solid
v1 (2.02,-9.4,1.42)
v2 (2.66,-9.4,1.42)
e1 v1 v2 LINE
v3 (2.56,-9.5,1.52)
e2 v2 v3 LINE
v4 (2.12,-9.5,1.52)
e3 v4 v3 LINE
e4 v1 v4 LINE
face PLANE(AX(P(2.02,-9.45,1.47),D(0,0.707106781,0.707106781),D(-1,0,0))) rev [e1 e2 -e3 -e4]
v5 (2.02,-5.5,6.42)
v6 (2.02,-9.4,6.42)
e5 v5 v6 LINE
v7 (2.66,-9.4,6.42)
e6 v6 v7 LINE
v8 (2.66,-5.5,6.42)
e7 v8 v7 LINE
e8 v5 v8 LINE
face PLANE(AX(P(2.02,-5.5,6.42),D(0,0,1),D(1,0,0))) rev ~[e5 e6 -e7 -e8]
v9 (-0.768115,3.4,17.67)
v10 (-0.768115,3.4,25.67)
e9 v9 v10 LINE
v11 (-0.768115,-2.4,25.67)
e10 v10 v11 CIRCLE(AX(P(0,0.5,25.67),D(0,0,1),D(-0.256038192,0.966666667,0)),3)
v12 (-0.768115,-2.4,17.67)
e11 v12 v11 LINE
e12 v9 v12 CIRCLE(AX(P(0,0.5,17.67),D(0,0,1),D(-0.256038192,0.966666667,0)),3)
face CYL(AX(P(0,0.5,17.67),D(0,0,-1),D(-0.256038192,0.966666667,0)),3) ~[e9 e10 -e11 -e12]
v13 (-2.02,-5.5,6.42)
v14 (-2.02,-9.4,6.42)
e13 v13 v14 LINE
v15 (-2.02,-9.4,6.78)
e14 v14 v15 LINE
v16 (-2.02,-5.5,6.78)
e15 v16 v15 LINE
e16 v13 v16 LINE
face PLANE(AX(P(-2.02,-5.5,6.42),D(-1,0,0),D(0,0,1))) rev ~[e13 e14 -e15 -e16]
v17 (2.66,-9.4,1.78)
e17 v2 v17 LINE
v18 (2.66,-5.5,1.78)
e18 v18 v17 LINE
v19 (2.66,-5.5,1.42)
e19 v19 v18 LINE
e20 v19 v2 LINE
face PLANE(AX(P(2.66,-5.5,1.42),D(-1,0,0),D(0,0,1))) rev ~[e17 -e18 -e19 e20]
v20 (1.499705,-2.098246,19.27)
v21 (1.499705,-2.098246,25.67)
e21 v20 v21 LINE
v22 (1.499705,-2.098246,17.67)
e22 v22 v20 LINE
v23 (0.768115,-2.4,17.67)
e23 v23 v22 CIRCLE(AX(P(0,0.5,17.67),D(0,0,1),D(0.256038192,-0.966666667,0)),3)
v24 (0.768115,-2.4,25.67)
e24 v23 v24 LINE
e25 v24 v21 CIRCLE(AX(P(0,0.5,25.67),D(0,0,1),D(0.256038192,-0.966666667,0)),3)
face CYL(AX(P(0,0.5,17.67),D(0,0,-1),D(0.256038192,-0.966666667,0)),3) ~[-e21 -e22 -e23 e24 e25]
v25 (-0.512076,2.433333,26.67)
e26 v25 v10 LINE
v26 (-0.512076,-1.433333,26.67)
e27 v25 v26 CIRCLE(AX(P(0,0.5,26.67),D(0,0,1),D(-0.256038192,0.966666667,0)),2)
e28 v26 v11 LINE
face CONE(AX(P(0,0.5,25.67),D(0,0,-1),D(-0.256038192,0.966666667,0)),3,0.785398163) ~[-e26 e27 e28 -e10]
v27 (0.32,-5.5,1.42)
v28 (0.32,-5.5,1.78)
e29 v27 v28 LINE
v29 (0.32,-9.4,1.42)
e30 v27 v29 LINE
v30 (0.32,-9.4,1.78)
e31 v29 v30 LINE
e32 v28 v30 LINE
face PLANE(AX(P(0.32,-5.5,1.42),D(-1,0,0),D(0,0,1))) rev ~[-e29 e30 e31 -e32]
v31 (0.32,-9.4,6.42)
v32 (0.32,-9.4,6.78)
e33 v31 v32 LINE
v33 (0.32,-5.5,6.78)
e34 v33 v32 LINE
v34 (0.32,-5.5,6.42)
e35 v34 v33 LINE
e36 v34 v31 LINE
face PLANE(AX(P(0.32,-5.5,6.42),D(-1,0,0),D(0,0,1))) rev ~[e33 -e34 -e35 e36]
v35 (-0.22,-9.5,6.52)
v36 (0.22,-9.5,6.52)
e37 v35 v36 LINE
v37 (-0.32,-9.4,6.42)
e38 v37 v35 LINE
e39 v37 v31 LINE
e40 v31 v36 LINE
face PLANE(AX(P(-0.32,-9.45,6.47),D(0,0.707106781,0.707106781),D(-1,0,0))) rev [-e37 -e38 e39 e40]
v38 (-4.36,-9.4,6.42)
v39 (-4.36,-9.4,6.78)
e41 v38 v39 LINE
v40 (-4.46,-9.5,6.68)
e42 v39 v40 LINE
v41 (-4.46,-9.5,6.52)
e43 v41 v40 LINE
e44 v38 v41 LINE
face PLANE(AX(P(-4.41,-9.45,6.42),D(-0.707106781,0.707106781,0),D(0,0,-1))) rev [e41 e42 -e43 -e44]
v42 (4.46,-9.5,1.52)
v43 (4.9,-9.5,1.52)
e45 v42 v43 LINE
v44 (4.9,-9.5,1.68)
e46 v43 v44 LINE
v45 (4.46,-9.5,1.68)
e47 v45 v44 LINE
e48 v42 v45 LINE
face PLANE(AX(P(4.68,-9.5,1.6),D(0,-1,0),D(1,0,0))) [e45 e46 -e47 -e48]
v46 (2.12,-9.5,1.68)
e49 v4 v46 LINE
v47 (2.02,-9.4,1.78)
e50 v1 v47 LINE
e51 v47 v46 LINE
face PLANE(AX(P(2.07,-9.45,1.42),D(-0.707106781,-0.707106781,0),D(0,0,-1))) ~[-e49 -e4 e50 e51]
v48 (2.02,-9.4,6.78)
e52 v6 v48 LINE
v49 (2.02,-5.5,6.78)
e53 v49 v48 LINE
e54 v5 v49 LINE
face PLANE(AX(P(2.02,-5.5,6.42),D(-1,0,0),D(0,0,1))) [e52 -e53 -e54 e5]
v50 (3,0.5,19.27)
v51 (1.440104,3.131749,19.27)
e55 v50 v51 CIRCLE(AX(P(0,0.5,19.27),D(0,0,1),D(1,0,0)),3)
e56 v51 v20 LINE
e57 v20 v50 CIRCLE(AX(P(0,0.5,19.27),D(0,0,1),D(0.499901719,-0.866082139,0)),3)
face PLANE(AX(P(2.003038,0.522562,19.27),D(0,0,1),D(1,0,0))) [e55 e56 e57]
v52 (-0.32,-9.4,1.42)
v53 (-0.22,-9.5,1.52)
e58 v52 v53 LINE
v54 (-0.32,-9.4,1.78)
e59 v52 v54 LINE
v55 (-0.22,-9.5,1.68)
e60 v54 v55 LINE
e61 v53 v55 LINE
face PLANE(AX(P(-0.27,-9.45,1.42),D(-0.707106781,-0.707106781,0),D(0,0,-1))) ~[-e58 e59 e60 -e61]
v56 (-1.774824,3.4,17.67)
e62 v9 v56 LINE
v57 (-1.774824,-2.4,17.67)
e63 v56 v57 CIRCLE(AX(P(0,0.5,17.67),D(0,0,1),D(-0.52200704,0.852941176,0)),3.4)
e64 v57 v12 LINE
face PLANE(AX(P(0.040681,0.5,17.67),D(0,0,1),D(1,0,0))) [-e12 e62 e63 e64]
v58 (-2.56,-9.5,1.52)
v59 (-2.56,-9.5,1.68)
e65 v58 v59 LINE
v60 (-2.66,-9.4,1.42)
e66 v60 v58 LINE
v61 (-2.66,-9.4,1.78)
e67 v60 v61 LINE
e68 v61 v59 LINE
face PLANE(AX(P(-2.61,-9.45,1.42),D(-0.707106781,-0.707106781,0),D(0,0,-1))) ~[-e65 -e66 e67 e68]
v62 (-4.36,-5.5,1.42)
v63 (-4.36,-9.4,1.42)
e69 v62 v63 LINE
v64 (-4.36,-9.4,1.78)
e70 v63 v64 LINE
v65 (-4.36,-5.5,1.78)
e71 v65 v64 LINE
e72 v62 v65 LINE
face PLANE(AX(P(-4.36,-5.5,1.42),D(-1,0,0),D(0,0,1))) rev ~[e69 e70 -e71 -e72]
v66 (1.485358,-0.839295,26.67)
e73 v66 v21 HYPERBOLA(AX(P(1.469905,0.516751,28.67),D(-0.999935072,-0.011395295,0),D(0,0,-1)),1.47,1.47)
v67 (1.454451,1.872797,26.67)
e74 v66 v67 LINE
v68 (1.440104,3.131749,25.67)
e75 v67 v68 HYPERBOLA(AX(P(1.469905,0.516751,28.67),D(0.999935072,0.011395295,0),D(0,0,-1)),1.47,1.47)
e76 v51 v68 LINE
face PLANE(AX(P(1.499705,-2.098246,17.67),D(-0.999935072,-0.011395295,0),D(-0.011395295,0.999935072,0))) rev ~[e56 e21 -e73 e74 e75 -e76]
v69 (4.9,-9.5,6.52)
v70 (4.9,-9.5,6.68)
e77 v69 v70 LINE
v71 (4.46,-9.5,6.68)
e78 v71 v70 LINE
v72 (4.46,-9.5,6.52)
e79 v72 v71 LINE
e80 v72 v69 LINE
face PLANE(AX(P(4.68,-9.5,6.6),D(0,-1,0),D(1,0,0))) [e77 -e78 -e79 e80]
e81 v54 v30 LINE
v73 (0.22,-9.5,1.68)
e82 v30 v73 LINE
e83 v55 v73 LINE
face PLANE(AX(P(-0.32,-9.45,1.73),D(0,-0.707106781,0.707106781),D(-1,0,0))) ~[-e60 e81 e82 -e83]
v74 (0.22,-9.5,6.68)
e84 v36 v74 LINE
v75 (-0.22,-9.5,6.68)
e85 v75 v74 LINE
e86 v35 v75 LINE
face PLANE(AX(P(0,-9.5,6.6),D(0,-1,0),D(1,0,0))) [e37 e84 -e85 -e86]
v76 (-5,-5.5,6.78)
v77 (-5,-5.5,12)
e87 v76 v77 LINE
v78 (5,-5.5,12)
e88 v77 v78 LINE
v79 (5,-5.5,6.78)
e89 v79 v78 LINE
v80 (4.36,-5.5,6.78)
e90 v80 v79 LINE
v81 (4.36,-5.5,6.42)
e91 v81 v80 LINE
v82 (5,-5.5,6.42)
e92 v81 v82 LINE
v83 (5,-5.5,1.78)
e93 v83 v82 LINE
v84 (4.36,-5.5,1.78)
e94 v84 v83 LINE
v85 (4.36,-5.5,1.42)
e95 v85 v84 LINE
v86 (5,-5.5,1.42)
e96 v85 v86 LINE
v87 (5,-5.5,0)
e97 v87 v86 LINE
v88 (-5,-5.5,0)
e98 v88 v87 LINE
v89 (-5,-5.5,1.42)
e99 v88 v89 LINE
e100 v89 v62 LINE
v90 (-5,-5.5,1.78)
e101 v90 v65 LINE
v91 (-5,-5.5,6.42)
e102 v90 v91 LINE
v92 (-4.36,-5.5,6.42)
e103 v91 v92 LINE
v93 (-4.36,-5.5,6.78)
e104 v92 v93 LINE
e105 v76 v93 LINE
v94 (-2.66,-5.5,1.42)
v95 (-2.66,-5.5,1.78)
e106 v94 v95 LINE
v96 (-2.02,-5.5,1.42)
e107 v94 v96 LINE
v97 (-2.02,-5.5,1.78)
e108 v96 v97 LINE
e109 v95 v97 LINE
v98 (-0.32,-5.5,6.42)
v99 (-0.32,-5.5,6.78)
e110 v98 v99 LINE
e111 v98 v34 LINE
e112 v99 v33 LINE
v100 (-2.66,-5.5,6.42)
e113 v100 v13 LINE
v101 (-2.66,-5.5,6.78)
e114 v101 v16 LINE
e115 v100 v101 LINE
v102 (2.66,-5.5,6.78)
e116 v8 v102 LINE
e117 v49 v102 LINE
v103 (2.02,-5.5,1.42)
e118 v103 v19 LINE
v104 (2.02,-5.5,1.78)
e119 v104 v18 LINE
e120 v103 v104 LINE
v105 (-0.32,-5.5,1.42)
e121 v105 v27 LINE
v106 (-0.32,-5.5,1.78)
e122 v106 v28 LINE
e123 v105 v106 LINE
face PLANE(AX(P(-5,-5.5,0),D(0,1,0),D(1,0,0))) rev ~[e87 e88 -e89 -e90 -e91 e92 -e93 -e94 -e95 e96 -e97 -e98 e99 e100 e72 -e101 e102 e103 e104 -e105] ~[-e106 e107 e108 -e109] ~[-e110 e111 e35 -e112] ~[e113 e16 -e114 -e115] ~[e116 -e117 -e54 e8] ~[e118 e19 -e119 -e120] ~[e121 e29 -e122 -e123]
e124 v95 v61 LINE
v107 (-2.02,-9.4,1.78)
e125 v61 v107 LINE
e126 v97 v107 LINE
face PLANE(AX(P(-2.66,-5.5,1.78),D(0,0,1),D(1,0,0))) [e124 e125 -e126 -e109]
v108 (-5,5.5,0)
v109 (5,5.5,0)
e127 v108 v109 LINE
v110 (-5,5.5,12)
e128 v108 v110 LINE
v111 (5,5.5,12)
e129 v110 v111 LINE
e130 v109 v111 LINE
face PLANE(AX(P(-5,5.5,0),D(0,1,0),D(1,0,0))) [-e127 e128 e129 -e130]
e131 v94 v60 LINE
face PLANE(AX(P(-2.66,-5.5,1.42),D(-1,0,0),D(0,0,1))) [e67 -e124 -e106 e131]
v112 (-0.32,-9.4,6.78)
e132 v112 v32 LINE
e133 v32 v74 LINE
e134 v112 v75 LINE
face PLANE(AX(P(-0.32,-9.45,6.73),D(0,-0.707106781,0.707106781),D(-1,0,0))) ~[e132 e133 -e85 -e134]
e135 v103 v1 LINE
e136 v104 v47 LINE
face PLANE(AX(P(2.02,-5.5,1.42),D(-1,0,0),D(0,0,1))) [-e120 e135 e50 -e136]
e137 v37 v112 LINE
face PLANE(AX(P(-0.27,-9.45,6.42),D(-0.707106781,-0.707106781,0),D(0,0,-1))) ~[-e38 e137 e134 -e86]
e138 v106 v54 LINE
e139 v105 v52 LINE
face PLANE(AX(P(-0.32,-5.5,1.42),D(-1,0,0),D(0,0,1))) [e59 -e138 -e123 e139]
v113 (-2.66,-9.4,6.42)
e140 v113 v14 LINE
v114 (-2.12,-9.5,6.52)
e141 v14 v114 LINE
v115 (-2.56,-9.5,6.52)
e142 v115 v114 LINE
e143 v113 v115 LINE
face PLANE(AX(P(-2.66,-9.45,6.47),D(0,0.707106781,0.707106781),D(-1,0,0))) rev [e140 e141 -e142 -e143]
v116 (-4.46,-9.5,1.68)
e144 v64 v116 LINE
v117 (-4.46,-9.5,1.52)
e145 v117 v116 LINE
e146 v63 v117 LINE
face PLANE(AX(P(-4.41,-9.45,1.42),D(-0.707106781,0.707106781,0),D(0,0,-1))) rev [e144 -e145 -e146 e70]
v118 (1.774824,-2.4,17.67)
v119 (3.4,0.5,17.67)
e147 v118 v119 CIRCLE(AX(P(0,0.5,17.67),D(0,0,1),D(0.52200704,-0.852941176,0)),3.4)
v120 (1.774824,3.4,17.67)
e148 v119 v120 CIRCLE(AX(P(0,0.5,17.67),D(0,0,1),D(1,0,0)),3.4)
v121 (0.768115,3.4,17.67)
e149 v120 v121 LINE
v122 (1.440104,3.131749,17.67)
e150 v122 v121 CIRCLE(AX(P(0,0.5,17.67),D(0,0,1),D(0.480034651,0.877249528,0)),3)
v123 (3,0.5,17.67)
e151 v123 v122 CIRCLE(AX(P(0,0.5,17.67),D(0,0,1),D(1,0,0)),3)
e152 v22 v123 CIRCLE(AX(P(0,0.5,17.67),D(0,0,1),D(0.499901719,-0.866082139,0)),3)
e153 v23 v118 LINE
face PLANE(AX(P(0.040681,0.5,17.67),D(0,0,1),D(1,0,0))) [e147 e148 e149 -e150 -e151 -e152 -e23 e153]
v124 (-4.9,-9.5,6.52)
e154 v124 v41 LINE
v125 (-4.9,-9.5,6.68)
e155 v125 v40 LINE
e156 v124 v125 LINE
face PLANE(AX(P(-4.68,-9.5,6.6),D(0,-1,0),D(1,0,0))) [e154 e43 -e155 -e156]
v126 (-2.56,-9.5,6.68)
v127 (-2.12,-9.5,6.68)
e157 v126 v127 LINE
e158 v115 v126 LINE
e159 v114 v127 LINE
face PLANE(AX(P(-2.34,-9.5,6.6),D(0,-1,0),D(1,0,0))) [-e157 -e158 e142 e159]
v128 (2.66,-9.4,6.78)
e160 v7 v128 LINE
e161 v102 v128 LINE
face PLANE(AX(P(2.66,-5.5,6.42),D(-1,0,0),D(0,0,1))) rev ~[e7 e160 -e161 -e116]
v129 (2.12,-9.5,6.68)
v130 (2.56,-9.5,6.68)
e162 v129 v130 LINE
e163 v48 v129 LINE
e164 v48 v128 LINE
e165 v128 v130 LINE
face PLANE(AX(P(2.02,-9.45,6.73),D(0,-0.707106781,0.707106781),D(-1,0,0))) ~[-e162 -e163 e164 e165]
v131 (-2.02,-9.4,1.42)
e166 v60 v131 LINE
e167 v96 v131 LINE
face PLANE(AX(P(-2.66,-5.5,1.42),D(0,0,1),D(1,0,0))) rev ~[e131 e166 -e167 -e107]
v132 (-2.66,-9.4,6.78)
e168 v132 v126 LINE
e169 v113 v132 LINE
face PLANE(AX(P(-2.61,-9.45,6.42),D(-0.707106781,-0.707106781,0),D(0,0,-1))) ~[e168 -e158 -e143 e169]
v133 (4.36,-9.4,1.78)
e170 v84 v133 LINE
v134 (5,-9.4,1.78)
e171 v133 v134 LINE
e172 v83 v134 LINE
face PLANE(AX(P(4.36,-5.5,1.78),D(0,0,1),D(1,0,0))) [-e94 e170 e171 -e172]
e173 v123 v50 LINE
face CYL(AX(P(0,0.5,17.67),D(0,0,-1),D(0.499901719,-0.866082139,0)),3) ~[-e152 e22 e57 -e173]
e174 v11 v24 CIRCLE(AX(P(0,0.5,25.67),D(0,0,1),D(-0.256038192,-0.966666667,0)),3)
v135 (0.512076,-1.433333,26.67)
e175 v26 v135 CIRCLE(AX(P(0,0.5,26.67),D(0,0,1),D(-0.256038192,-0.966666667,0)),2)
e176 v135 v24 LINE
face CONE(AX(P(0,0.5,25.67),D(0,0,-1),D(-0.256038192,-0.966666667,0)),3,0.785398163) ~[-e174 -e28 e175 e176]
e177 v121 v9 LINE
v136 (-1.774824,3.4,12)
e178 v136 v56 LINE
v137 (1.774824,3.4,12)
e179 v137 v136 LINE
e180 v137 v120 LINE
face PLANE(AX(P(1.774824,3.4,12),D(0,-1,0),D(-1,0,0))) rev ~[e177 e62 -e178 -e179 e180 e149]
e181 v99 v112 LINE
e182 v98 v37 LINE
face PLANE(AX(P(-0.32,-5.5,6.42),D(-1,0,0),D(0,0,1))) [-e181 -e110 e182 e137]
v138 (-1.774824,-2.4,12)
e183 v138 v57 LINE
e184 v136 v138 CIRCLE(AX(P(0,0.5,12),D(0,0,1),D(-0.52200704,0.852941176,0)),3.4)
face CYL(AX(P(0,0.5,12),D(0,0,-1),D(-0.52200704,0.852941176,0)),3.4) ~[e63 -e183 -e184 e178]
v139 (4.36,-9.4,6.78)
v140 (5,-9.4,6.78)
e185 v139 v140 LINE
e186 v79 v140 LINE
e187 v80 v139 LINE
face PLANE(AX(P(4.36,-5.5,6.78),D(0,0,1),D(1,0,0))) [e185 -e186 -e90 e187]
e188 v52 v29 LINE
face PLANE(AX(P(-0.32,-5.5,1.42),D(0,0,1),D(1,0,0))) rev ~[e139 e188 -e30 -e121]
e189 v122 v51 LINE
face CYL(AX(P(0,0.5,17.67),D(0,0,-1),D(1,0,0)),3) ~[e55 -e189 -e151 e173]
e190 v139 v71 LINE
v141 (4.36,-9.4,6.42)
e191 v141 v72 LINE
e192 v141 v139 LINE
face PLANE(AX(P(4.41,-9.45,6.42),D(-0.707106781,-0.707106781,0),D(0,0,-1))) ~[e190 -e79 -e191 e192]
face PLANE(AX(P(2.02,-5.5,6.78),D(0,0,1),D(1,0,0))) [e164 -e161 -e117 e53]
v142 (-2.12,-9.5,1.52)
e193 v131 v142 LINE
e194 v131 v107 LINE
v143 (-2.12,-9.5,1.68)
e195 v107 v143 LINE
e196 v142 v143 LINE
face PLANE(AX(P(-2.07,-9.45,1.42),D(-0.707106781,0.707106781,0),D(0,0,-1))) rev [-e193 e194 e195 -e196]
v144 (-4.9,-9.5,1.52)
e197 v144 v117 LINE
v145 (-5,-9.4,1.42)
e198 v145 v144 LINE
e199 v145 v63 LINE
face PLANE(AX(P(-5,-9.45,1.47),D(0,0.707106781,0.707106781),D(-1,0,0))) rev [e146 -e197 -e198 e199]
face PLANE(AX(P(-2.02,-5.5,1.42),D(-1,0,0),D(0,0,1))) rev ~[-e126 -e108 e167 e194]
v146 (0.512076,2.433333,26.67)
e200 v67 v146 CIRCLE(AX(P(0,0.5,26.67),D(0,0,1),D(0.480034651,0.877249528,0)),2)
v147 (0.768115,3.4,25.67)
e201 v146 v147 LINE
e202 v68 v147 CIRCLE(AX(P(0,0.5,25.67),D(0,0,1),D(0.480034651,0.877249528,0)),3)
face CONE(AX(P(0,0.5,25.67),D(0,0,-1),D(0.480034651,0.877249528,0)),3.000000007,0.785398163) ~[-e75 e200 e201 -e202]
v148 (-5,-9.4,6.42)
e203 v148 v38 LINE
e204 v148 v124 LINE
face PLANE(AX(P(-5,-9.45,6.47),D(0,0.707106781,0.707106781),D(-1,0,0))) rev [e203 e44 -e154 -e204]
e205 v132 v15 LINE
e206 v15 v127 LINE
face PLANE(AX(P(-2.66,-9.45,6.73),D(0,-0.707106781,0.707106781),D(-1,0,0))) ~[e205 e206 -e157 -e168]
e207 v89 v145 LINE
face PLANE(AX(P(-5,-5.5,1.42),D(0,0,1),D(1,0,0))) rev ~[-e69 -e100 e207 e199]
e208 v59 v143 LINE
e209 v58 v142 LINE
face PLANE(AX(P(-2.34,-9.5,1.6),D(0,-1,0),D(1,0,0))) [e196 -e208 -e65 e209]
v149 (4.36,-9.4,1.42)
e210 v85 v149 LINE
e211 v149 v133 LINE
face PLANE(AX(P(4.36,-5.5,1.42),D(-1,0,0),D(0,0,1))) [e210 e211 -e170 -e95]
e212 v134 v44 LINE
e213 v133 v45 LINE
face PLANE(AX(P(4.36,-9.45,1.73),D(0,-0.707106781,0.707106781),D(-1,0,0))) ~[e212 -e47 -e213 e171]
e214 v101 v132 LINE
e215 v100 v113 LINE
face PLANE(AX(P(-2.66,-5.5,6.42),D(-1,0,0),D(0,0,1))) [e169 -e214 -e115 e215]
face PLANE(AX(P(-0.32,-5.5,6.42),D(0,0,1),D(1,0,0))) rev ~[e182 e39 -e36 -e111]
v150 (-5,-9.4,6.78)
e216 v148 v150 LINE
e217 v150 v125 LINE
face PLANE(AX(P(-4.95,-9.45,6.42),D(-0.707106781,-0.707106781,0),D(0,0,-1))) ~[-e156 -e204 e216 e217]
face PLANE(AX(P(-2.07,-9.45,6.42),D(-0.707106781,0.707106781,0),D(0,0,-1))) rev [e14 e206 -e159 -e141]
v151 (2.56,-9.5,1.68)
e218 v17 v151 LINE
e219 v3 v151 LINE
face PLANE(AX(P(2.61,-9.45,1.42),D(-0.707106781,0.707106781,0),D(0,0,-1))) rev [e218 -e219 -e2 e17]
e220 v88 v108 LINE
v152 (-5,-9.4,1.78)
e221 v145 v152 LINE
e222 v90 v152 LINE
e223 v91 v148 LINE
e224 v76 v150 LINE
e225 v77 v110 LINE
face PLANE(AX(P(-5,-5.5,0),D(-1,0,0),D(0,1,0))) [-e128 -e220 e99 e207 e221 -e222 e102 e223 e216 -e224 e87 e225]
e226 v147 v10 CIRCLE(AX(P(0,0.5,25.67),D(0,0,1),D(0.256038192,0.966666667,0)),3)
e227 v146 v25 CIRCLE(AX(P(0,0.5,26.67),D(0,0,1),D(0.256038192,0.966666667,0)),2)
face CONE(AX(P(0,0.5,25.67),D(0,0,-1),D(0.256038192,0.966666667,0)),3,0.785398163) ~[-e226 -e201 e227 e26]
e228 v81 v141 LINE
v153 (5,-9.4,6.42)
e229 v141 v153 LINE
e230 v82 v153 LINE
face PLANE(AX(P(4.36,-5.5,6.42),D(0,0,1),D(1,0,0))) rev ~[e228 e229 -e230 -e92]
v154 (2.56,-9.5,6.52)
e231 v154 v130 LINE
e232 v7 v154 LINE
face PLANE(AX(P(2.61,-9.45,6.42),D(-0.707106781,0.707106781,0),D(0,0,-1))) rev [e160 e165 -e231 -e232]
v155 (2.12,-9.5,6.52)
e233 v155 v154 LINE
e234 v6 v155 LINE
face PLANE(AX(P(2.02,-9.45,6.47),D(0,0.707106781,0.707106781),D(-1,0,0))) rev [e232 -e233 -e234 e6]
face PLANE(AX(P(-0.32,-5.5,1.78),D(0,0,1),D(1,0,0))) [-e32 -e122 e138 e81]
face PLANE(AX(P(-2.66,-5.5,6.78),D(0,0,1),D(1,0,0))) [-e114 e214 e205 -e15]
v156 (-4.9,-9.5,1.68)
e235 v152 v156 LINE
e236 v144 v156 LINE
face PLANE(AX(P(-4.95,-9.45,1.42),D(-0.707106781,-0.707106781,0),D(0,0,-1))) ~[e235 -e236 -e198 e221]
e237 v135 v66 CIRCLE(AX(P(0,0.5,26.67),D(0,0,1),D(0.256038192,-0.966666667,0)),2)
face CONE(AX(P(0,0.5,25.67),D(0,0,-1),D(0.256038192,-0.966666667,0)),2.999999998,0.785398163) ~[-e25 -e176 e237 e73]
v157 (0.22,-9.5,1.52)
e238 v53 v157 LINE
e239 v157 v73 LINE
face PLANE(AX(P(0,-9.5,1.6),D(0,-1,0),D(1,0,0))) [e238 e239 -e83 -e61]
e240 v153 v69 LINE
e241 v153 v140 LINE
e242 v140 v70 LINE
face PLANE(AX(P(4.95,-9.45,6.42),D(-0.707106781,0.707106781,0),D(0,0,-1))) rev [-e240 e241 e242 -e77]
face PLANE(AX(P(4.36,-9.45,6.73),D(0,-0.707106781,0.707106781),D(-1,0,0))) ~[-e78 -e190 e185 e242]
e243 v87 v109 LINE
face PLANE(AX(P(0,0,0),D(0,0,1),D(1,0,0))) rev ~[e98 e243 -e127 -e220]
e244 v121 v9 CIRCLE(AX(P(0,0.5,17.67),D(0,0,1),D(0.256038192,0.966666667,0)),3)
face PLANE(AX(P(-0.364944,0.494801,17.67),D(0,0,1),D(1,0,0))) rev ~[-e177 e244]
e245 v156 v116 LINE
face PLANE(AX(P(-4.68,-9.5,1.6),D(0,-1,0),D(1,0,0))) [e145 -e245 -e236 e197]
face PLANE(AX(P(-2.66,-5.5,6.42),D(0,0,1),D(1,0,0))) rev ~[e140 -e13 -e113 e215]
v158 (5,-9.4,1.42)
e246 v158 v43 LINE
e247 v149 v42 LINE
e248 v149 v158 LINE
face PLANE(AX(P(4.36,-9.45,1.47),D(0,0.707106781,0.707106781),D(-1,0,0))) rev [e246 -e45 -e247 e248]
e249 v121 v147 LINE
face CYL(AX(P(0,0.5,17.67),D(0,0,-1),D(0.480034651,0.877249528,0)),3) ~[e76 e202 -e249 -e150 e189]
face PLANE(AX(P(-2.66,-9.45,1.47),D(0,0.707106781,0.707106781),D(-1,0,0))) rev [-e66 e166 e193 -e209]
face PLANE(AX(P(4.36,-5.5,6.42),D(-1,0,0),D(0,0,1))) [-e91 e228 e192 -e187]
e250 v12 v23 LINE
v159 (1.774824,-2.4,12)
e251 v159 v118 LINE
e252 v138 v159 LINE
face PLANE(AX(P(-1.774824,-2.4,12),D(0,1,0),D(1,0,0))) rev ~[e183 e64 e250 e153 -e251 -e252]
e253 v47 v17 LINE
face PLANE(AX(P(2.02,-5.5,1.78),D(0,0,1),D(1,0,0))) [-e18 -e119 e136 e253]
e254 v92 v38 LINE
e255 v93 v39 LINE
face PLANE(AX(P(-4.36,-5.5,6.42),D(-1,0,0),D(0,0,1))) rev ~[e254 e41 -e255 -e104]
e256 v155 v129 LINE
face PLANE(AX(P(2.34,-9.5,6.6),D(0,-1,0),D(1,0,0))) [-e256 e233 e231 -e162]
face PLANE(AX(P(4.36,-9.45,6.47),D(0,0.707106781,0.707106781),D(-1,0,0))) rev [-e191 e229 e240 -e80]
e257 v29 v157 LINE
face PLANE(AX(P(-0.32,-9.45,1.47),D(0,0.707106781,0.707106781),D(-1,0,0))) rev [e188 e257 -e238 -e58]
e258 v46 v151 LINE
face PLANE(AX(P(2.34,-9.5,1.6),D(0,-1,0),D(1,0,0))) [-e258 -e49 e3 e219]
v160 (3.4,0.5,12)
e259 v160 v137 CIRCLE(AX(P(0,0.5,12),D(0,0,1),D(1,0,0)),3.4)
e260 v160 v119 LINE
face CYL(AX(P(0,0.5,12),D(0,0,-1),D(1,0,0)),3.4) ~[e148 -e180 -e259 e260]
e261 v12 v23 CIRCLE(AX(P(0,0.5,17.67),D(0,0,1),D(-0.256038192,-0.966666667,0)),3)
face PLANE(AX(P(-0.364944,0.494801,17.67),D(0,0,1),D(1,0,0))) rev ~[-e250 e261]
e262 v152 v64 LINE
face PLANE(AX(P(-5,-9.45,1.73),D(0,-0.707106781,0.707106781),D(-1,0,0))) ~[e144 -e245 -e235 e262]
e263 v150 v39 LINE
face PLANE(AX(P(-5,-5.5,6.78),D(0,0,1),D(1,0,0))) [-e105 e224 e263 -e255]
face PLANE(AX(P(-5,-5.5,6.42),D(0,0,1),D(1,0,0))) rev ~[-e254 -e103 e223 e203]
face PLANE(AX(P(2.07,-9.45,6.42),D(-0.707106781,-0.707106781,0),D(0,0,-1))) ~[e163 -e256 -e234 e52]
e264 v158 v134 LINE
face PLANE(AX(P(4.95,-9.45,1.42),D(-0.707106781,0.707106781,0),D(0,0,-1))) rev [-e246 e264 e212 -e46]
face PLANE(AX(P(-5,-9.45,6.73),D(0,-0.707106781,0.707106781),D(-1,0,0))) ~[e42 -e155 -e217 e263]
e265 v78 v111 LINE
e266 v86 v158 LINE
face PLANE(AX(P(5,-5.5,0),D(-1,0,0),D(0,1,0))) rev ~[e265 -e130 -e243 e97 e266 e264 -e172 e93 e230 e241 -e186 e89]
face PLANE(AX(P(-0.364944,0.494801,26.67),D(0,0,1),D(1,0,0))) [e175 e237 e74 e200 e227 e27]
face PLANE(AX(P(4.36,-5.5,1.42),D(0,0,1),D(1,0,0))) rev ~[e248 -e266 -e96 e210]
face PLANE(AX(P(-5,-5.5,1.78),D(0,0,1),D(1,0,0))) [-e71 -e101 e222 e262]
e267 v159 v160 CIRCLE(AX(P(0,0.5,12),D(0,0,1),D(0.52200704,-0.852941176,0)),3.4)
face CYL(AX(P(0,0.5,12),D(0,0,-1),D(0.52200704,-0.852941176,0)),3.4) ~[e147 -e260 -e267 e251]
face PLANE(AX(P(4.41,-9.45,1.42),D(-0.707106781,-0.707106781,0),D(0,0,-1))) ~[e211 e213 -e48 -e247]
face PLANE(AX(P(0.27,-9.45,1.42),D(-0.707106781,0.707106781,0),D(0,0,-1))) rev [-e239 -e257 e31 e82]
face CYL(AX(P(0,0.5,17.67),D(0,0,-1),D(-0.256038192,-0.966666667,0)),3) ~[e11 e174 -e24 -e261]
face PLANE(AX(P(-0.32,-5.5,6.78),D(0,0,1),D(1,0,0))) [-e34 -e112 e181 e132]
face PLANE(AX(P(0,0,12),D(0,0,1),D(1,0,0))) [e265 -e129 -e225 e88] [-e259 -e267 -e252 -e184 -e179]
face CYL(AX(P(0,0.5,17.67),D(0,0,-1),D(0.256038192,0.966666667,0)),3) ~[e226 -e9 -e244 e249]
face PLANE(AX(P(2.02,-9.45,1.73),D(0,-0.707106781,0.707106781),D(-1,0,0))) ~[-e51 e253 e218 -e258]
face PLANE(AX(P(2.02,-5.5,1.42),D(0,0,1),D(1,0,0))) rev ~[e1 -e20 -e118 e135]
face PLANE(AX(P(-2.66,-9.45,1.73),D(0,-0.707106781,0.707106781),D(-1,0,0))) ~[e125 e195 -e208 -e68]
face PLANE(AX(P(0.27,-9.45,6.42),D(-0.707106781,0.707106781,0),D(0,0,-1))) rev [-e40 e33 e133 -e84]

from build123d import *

# Parameters (mm, degrees)
F0_W     = 10
F0_H     = 11
F1_DEPTH = 12
F3_DEPTH = 5.67
F5_DEPTH = 1.6
F6_DEPTH = 9
F7_SIZE  = 1
F8_W     = 0.64
F8_H     = 0.36
F9_DEPTH = 4
F10_SIZE = 0.1


with BuildPart() as f1:
    # F0 (on Top) → F1 (new body)
    with BuildSketch(Plane.XY):
        Rectangle(F0_W, F0_H)
    extrude(amount=F1_DEPTH)

    # F2 (on face) → F3 (join)
    with BuildSketch(Plane.XY.offset(12)):
        with BuildLine():
            ThreePointArc((1.7748239349, -2.4), (2.9660075336, -1.1621670526), (3.4, 0.5))
            ThreePointArc((3.4, 0.5), (2.9660075336, 2.1621670526), (1.7748239349, 3.4))
            Line((1.7748239349, 3.4), (-1.7748239349, 3.4))
            ThreePointArc((-1.7748239349, 3.4), (-3.4, 0.5), (-1.7748239349, -2.4))
            Line((-1.7748239349, -2.4), (1.7748239349, -2.4))
        make_face()
    extrude(amount=F3_DEPTH)

    # F4 (on face) → F5 (join)
    with BuildSketch(Plane.XY.offset(17.67)):
        with BuildLine():
            ThreePointArc((1.4997051578, -2.0982464163), (2.5979910963, -1.0001474139), (3, 0.5))
            ThreePointArc((3, 0.5), (2.5807277905, 2.0296548863), (1.4401039525, 3.1317485834))
            Line((1.4401039525, 3.1317485834), (1.4997051578, -2.0982464163))
        make_face()
    extrude(amount=F5_DEPTH)

    # F4 (on face) → F6 (join)
    with BuildSketch(Plane.XY.offset(17.67)):
        with BuildLine():
            Line((1.4997051578, -2.0982464163), (1.4401039525, 3.1317485834))
            ThreePointArc((1.4401039525, 3.1317485834), (1.1122261333, 3.2862076427), (0.7681145748, 3.4))
            Line((0.7681145748, 3.4), (-0.7681145748, 3.4))
            ThreePointArc((-0.7681145748, 3.4), (-3, 0.5), (-0.7681145748, -2.4))
            Line((-0.7681145748, -2.4), (0.7681145748, -2.4))
            ThreePointArc((0.7681145748, -2.4), (1.143903576, -2.2733525937), (1.4997051578, -2.0982464163))
        make_face()
        with BuildLine():
            ThreePointArc((-0.7681145748, -2.4), (0, -2.5), (0.7681145748, -2.4))
            Line((0.7681145748, -2.4), (-0.7681145748, -2.4))
        make_face()
        with BuildLine():
            Line((-0.7681145748, 3.4), (0.7681145748, 3.4))
            ThreePointArc((0.7681145748, 3.4), (0, 3.5), (-0.7681145748, 3.4))
        make_face()
    extrude(amount=F6_DEPTH)

    # F7
    f7_edges = [f1.edges().sort_by_distance(p)[0] for p in [
        (-2.999805, 0.465814, 26.67),
    ]]
    chamfer(f7_edges, length=F7_SIZE)

    # F8 (on face) → F9 (join)
    with BuildSketch(Plane.XZ.offset(5.5)):
        with Locations((-4.68, 6.6)):
            Rectangle(F8_W, F8_H)
        with Locations((-2.34, 6.6)):
            Rectangle(F8_W, F8_H)
        with Locations((0, 6.6)):
            Rectangle(F8_W, F8_H)
        with Locations((4.68, 1.6)):
            Rectangle(F8_W, F8_H)
        with Locations((2.34, 1.6)):
            Rectangle(F8_W, F8_H)
        with Locations((0, 1.6)):
            Rectangle(F8_W, F8_H)
        with Locations((-2.34, 1.6)):
            Rectangle(F8_W, F8_H)
        with Locations((-4.68, 1.6)):
            Rectangle(F8_W, F8_H)
        with Locations((2.34, 6.6)):
            Rectangle(F8_W, F8_H)
        with Locations((4.68, 6.6)):
            Rectangle(F8_W, F8_H)
    extrude(amount=F9_DEPTH)

    # F10
    f10_edges = [f1.edges().sort_by_distance(p)[0] for p in [
        (-5, -9.5, 6.6),
        (-4.68, -9.5, 6.42),
        (-4.36, -9.5, 6.6),
        (-4.68, -9.5, 6.78),
        (-2.66, -9.5, 6.6),
        (-2.34, -9.5, 6.42),
        (-2.02, -9.5, 6.6),
        (-2.34, -9.5, 6.78),
        (-0.32, -9.5, 6.6),
        (0, -9.5, 6.42),
        (0.32, -9.5, 6.6),
        (0, -9.5, 6.78),
        (2.02, -9.5, 6.6),
        (2.34, -9.5, 6.42),
        (2.66, -9.5, 6.6),
        (2.34, -9.5, 6.78),
        (4.68, -9.5, 6.42),
        (5, -9.5, 6.6),
        (4.68, -9.5, 6.78),
        (4.36, -9.5, 6.6),
        (4.68, -9.5, 1.42),
        (5, -9.5, 1.6),
        (4.68, -9.5, 1.78),
        (4.36, -9.5, 1.6),
        (2.02, -9.5, 1.6),
        (2.34, -9.5, 1.42),
        (2.66, -9.5, 1.6),
        (2.34, -9.5, 1.78),
        (-0.32, -9.5, 1.6),
        (0, -9.5, 1.42),
        (0.32, -9.5, 1.6),
        (0, -9.5, 1.78),
        (-2.66, -9.5, 1.6),
        (-2.34, -9.5, 1.42),
        (-2.02, -9.5, 1.6),
        (-2.34, -9.5, 1.78),
        (-5, -9.5, 1.6),
        (-4.68, -9.5, 1.42),
        (-4.36, -9.5, 1.6),
        (-4.68, -9.5, 1.78),
    ]]
    chamfer(f10_edges, length=F10_SIZE)


solid = f1.part
